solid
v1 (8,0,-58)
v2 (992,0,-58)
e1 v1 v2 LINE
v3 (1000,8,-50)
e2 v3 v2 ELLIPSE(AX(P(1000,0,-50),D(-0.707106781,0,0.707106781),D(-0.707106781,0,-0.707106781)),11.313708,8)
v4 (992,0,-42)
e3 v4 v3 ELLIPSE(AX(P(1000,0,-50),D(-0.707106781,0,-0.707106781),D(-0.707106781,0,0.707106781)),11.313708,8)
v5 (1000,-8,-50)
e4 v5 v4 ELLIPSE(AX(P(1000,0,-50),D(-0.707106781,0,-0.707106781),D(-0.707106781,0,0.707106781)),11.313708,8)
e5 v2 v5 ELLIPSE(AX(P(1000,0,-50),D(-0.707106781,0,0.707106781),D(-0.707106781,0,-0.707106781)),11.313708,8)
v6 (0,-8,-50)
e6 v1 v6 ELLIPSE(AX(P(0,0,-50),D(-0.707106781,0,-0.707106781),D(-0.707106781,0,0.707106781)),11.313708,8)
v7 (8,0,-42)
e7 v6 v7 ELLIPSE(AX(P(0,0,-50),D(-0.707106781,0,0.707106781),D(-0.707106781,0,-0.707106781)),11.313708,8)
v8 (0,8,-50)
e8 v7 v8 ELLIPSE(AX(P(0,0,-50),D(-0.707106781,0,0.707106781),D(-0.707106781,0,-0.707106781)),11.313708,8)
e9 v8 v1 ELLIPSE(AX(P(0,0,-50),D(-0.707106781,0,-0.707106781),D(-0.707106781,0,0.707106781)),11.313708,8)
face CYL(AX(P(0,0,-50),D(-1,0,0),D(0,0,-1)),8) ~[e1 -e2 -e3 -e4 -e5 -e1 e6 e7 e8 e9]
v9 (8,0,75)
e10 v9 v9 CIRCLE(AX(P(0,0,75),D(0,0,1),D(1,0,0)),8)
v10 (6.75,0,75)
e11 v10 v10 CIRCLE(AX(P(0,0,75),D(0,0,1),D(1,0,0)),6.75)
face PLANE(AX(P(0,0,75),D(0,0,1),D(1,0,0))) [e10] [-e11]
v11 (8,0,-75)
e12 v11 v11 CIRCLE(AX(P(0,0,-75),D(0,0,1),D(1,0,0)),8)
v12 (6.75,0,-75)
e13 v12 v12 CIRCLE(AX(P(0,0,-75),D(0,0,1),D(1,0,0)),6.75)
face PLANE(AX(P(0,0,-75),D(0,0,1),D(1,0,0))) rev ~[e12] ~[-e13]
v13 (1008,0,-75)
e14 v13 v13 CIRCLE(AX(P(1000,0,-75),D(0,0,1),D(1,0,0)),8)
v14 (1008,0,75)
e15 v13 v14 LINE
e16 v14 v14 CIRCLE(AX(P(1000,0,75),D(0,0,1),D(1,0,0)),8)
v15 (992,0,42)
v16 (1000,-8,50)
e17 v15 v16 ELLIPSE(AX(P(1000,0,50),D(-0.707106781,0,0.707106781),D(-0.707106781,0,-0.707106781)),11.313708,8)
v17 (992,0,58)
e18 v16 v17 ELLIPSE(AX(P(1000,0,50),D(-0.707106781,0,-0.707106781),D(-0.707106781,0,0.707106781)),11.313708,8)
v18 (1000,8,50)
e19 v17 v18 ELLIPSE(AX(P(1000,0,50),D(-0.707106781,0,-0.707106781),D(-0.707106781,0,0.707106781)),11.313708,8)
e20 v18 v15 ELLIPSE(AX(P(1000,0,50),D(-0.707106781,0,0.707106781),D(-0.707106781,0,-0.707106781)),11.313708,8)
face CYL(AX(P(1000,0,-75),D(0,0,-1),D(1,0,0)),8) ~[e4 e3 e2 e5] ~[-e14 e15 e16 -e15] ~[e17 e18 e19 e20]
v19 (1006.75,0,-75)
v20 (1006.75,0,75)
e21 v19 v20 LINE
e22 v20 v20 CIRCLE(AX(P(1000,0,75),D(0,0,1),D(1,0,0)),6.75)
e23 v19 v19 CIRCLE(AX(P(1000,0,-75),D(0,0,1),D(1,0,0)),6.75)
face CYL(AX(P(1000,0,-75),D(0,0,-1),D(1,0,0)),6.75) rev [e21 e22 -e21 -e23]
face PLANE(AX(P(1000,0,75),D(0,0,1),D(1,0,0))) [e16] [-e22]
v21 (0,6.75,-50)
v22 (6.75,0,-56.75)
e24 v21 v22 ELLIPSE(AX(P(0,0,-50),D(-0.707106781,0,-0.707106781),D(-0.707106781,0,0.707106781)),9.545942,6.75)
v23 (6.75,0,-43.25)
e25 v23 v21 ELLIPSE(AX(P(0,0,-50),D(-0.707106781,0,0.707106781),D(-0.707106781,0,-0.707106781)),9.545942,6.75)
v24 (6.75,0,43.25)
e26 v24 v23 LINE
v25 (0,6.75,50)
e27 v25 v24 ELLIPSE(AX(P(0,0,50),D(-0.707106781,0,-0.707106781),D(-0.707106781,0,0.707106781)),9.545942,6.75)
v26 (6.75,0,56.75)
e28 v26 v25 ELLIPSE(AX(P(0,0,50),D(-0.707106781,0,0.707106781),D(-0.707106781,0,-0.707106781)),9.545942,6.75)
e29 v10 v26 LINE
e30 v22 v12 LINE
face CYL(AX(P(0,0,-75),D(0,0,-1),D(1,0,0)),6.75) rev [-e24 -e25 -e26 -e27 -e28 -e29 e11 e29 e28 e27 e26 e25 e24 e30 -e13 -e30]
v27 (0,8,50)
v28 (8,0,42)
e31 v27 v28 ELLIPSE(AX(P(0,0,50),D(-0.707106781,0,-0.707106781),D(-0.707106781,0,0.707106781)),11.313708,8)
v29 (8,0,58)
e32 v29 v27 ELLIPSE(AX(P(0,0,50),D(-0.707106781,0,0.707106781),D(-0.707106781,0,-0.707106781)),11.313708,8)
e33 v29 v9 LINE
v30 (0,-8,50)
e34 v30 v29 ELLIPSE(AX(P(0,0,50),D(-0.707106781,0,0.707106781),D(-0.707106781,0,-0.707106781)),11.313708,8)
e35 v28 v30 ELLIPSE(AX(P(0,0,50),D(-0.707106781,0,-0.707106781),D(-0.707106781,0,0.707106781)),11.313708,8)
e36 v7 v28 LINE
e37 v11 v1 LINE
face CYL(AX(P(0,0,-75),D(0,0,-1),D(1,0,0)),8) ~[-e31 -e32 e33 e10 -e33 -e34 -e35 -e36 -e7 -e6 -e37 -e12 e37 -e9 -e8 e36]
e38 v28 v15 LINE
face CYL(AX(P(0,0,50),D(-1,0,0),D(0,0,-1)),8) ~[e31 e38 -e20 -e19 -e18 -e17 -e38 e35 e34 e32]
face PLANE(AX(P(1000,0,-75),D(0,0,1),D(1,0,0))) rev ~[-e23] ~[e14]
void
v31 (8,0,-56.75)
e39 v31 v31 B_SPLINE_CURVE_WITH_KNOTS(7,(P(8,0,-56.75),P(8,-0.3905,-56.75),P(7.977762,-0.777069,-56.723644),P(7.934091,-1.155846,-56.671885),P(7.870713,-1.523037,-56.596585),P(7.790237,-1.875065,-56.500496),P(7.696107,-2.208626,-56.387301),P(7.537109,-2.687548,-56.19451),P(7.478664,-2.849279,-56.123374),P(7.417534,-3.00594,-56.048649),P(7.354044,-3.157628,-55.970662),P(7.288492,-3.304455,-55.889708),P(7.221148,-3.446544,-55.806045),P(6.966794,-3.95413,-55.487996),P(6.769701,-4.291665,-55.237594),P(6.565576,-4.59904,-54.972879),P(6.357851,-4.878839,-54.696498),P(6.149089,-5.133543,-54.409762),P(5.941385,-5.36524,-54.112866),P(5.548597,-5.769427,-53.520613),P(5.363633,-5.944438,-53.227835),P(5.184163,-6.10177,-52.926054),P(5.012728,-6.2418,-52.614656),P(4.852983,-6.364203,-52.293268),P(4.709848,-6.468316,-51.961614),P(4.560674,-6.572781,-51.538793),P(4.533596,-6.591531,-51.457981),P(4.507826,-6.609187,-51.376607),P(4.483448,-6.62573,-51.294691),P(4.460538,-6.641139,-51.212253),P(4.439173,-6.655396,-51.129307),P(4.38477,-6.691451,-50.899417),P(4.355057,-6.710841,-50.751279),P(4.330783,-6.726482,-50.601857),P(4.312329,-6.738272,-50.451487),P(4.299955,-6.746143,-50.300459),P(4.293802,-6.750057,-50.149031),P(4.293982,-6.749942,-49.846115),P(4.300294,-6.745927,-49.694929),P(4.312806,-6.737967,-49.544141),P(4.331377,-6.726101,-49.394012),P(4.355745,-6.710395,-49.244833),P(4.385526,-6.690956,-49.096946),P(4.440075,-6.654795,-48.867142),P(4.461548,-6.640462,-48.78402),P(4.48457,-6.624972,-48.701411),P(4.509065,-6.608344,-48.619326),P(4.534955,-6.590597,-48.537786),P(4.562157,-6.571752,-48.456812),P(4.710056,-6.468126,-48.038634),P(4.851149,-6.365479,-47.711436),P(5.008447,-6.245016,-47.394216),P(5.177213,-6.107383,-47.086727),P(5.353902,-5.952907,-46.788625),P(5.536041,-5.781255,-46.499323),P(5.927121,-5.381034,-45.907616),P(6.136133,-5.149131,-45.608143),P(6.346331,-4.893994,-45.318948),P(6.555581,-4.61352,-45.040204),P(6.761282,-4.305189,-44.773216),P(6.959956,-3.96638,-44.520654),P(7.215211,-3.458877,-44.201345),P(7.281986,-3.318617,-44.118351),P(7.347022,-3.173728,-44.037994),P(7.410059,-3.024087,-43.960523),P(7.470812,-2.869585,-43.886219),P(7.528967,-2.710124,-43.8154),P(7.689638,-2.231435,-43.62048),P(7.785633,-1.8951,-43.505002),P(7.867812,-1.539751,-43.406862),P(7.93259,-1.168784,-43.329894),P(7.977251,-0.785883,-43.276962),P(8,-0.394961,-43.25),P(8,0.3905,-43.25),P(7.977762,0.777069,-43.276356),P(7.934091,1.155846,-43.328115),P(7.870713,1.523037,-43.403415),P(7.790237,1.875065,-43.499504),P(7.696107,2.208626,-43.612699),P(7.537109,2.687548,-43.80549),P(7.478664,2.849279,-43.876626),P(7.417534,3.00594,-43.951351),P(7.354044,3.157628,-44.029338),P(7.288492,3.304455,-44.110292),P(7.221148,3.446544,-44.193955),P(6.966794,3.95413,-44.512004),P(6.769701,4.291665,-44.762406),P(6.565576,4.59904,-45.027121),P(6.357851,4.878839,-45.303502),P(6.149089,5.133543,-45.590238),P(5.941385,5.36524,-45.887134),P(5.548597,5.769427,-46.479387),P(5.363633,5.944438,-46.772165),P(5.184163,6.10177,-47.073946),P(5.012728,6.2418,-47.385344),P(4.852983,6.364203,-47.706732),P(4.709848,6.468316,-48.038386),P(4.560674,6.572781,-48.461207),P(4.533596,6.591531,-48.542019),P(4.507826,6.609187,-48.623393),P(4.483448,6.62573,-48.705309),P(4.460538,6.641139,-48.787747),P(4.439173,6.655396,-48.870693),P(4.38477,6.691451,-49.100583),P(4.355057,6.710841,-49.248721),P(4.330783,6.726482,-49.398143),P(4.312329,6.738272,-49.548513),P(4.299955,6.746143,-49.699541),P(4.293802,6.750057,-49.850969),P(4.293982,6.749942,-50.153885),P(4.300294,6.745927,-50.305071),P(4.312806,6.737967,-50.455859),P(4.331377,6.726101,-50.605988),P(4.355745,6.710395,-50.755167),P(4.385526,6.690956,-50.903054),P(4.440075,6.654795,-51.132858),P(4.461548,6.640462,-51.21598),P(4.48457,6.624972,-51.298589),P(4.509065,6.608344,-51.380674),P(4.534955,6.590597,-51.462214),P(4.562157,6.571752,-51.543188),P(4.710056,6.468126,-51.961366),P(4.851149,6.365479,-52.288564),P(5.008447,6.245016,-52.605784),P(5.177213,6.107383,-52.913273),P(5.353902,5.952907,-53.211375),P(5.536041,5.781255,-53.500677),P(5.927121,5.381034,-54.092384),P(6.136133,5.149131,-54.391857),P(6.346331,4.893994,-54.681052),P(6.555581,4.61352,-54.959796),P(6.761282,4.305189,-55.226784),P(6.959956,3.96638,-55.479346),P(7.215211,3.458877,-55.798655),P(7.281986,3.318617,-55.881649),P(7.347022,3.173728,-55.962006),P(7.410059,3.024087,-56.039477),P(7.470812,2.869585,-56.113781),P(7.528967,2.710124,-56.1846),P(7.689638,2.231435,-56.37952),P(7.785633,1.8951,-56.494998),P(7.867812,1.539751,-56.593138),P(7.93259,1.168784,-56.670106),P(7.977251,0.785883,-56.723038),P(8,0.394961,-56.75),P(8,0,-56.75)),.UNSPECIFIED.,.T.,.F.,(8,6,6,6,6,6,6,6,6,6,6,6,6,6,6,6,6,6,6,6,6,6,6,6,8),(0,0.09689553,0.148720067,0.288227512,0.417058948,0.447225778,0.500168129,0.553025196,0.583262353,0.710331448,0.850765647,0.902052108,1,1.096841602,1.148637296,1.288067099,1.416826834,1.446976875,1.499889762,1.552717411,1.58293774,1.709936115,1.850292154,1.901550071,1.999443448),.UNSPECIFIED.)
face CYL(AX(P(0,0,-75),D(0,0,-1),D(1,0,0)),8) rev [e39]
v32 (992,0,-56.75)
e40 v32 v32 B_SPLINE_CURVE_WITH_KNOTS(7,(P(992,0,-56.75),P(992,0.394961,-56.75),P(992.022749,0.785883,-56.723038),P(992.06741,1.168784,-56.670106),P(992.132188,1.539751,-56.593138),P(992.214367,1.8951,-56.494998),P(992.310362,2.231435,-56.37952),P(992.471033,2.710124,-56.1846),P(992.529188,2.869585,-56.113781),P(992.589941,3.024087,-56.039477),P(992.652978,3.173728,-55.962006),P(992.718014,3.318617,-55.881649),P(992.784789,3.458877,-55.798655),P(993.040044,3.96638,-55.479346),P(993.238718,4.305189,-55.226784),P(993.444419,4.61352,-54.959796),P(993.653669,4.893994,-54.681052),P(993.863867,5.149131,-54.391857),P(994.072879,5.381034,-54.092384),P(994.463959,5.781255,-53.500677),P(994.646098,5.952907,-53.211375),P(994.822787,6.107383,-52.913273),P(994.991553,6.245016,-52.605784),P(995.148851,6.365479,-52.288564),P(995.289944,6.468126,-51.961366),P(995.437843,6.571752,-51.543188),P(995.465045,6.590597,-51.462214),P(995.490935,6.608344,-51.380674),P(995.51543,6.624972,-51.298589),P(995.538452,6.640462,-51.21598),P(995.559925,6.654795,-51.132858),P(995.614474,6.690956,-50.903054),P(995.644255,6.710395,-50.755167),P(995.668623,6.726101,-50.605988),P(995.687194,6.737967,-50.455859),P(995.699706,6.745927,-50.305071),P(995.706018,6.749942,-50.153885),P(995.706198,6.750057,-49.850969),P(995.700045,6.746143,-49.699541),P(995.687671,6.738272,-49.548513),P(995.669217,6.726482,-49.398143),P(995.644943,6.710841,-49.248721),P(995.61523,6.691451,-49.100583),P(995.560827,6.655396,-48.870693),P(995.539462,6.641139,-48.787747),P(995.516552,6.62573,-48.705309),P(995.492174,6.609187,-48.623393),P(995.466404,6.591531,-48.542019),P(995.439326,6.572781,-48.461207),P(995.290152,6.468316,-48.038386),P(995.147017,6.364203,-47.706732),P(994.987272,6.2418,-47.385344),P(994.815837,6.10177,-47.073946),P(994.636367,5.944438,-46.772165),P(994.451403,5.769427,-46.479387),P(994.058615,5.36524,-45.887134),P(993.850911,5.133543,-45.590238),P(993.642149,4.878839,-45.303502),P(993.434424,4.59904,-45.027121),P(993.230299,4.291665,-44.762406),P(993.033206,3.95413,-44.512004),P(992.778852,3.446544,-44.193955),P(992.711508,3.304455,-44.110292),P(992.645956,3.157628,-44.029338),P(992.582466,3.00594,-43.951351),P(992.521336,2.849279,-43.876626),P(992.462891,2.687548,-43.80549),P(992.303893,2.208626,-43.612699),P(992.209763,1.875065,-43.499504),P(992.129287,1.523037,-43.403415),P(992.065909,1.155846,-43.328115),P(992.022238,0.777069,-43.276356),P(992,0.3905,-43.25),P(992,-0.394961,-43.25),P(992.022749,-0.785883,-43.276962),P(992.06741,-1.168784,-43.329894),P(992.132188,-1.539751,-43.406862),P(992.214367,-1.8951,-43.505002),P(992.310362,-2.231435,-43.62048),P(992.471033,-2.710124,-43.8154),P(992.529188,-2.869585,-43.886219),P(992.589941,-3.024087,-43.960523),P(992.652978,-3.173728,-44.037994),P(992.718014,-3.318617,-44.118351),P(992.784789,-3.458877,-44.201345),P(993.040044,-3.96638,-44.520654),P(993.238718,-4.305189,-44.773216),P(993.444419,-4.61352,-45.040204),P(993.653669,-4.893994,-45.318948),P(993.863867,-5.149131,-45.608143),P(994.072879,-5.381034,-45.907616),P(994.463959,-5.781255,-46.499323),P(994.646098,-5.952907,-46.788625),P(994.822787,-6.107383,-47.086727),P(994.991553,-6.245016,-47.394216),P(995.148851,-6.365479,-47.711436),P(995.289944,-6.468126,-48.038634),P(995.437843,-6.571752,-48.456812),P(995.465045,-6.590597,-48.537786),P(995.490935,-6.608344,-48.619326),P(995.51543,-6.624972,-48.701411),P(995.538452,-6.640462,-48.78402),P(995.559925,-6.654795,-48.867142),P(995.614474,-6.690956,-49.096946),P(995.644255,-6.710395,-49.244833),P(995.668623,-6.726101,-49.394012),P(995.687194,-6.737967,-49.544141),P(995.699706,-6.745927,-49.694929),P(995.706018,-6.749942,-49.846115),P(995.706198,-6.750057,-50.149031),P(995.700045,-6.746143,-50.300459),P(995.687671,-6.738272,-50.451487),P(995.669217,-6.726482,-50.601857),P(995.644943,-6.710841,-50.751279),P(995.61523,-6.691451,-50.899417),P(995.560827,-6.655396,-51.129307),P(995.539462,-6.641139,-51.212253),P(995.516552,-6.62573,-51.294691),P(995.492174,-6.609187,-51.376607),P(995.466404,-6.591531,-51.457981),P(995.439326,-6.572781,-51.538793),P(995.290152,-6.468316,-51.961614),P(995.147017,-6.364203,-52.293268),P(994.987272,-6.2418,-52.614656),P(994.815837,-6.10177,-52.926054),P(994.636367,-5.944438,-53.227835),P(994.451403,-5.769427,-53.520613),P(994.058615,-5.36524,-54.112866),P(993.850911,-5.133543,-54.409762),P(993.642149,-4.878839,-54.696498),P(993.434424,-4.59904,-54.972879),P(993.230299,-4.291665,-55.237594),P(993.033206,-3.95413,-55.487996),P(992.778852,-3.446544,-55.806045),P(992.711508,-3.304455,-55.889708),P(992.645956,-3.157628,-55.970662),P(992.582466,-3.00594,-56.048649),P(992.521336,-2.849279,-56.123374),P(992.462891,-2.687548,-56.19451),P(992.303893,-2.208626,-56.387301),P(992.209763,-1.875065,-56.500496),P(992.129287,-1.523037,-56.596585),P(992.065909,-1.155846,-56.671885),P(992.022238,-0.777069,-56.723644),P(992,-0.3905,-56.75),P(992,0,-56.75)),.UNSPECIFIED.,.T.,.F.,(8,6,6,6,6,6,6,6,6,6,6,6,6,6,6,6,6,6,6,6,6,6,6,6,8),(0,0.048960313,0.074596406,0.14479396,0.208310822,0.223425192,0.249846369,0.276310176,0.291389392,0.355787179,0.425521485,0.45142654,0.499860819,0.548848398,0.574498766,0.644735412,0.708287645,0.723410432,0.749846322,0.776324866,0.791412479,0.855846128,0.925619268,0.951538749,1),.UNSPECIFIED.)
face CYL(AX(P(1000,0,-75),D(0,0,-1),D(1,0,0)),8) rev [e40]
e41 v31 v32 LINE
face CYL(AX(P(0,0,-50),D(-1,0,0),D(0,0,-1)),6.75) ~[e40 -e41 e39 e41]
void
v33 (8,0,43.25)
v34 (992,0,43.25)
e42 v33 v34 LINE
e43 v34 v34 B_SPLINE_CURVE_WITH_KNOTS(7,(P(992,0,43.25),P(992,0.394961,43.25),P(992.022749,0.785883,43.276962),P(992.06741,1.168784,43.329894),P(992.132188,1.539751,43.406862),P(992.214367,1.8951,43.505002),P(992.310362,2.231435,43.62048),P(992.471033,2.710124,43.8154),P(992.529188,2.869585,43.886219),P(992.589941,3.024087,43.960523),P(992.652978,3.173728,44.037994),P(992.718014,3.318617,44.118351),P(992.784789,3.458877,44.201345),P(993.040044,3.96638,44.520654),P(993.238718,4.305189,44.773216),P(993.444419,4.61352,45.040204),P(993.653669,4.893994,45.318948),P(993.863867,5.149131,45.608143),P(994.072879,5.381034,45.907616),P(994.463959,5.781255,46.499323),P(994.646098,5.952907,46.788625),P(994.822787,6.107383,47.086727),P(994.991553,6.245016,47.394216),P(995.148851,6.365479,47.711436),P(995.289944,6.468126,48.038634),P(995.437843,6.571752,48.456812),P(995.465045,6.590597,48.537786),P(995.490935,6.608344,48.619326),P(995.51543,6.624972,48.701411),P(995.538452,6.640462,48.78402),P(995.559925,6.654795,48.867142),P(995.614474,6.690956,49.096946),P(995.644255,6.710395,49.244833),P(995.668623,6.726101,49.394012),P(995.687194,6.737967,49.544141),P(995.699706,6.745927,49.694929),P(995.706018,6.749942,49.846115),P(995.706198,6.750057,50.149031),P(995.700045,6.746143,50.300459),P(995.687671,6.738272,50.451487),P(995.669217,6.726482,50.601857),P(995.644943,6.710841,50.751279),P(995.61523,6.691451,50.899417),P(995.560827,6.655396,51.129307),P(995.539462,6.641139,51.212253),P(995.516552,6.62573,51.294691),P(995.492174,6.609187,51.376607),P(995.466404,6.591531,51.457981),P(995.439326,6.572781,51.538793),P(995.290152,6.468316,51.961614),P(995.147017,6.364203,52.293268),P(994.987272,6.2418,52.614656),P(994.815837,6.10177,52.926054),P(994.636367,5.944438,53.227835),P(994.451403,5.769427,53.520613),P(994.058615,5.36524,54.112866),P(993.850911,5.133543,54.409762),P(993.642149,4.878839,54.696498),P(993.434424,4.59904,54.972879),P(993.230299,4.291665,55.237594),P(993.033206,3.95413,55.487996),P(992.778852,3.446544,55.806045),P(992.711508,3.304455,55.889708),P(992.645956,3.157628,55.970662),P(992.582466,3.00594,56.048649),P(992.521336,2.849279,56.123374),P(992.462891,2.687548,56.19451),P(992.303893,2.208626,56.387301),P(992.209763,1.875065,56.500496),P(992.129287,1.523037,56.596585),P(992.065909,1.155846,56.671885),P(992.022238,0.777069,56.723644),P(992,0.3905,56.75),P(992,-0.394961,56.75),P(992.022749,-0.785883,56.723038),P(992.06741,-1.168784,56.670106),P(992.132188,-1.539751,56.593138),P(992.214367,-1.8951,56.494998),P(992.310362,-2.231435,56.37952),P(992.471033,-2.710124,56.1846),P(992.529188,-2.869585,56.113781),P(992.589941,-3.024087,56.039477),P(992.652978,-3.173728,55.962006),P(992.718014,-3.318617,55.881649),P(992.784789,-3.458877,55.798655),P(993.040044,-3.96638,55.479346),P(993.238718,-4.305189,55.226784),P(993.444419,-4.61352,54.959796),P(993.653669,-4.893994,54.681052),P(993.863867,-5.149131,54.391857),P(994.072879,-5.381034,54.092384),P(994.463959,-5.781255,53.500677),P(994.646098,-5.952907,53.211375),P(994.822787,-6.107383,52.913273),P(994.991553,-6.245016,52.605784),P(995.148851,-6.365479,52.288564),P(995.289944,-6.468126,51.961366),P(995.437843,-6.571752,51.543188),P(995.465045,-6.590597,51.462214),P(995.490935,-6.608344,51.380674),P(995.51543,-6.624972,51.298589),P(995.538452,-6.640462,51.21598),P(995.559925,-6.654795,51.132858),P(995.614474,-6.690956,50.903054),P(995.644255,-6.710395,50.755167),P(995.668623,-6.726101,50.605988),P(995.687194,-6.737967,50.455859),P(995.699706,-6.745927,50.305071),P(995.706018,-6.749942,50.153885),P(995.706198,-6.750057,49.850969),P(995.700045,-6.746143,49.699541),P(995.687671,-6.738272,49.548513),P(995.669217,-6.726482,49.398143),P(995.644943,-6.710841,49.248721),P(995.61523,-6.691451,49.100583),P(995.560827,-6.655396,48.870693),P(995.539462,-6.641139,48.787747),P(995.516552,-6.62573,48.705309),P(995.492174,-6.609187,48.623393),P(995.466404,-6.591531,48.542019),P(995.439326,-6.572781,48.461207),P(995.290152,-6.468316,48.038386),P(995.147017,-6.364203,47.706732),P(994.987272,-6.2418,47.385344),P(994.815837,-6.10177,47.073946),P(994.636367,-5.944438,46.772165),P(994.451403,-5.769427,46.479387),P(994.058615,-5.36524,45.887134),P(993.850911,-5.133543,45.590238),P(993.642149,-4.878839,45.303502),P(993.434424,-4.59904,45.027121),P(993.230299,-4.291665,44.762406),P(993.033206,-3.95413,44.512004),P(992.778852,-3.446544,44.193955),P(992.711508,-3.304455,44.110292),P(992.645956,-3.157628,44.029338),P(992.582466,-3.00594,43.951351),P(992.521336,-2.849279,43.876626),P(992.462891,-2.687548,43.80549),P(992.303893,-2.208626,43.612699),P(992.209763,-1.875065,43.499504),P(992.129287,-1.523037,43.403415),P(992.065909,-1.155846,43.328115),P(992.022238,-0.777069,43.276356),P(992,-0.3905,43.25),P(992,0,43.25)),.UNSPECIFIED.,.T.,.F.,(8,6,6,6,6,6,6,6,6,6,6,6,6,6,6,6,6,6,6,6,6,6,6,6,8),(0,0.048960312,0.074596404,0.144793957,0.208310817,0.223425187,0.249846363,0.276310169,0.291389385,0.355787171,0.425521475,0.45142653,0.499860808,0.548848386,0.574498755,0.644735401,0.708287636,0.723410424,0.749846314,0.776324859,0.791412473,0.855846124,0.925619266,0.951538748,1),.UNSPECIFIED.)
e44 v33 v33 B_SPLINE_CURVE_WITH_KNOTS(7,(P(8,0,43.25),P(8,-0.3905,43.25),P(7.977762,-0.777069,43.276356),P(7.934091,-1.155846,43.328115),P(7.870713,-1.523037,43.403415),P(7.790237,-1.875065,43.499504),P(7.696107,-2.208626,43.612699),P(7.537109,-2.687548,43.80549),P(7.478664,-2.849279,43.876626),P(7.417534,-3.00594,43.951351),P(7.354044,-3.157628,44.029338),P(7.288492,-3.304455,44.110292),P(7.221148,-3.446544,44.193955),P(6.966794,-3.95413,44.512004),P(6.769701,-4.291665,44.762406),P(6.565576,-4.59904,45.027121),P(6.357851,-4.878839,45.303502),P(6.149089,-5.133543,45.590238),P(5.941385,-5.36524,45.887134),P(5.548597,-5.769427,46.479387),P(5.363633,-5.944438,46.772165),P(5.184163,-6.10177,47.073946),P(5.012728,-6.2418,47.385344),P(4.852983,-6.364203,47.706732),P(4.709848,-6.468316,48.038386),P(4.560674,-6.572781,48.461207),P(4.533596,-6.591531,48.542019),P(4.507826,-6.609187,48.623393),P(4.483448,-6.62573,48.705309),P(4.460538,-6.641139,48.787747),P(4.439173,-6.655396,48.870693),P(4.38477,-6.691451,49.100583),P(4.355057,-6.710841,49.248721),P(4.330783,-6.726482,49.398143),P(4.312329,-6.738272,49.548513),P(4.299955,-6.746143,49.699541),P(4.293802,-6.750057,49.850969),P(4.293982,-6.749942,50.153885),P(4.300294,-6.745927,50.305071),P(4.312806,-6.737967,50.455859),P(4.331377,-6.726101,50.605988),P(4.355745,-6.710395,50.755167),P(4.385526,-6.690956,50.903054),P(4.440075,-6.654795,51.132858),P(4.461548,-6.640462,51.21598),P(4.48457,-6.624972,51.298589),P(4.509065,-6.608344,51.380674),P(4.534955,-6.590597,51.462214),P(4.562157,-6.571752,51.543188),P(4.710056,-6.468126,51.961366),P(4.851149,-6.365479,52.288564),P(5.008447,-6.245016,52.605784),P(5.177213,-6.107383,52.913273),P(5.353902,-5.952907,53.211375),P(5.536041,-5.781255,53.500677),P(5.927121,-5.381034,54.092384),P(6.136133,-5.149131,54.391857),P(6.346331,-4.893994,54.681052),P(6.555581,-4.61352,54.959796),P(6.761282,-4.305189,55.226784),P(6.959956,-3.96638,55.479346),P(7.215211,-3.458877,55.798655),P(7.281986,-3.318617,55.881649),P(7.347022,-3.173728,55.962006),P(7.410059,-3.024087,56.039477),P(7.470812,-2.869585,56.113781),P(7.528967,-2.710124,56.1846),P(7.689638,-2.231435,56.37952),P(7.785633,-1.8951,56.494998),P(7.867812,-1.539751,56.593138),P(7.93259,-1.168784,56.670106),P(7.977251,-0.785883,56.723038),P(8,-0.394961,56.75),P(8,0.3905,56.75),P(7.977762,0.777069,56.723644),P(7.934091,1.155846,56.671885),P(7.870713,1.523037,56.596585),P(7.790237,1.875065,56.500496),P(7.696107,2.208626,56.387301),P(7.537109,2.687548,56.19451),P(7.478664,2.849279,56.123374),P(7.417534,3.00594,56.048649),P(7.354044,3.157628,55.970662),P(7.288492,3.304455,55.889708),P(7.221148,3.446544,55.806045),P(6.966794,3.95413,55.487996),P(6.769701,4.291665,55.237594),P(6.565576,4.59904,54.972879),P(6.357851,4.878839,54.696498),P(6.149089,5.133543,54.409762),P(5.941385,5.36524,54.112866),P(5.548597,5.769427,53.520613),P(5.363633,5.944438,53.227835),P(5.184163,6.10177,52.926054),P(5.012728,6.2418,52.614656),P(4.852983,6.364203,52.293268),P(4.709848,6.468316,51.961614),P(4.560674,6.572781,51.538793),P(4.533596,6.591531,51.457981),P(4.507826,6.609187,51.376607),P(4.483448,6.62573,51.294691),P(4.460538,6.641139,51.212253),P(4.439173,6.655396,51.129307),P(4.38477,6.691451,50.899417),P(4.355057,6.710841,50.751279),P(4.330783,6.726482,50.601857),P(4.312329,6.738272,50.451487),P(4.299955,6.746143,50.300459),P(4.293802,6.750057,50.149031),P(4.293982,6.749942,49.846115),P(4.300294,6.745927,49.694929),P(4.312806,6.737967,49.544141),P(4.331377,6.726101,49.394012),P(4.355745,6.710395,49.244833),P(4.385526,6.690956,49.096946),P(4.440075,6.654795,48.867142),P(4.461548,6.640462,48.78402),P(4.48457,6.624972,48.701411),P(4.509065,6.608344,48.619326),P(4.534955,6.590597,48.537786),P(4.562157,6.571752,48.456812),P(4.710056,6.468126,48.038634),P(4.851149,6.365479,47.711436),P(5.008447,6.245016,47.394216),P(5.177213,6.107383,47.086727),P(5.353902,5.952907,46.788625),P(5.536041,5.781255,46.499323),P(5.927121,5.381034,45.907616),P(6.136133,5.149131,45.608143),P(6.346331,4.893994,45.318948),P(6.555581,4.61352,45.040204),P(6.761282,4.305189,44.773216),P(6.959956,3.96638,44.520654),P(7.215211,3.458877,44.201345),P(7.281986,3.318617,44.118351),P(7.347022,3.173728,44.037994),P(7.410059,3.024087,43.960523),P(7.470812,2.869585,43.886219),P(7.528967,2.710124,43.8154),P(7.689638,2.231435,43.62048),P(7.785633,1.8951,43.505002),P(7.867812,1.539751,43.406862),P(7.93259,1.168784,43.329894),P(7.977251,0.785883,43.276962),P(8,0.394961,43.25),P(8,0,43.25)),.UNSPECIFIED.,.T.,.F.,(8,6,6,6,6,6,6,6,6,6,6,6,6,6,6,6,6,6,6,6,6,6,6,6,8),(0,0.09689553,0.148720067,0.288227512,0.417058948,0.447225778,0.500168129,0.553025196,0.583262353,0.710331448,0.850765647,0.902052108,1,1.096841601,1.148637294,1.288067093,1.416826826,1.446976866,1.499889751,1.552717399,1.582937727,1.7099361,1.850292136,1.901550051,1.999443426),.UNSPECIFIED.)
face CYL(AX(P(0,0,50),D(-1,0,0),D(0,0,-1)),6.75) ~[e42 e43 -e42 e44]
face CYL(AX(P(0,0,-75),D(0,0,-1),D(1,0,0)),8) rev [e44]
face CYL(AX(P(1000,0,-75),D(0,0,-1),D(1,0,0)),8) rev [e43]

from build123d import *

# Parameters (mm, degrees)
SKETCH1_R                = 8
SKETCH1_R_2              = 6.75
BOSS_EXTRUDE1_DEPTH      = 1000
BOSS_EXTRUDE1_2_DEPTH    = 1000
BOSS_EXTRUDE2_DEPTH      = 75
BOSS_EXTRUDE2_DEPTH_BACK = 75
SKETCH2_R                = 8
SKETCH2_R_2              = 6.75
CUT_EXTRUDE1_START       = -150
SKETCH3_R                = 6.75
CUT_EXTRUDE1_DEPTH       = 150
BOSS_EXTRUDE3_DEPTH      = 75
BOSS_EXTRUDE3_DEPTH_BACK = 75
SKETCH4_R                = 8
SKETCH4_R_2              = 6.75
SKETCH6_R                = 6.75
CUT_EXTRUDE2_DEPTH       = 150


with BuildPart() as part:
    # Sketch1 → Boss-Extrude1 (new body)
    with BuildSketch(Plane(origin=(0, 0, 0), x_dir=(0, 0, -1), z_dir=(1, 0, 0))):
        with Locations((-50, 0)):
            Circle(SKETCH1_R)
        with Locations((-50, 0)):
            Circle(SKETCH1_R_2, mode=Mode.SUBTRACT)
    extrude(amount=BOSS_EXTRUDE1_DEPTH)



with BuildPart() as body_2:
    # Sketch1 → Boss-Extrude1 2 (new body)
    with BuildSketch(Plane(origin=(0, 0, 0), x_dir=(0, 0, -1), z_dir=(1, 0, 0))):
        with Locations((50, 0)):
            Circle(SKETCH1_R)
        with Locations((50, 0)):
            Circle(SKETCH1_R_2, mode=Mode.SUBTRACT)
    extrude(amount=BOSS_EXTRUDE1_2_DEPTH)


with BuildPart() as part_1:
    add(part.part)

    add(body_2.part)  # Boss-Extrude2 merges body 2
    # Sketch2 → Boss-Extrude2 (add, two sides: drawn at the far end of the back side and taken through both)
    with BuildSketch(Plane.XY.offset(-BOSS_EXTRUDE2_DEPTH_BACK)):
        Circle(SKETCH2_R)
        Circle(SKETCH2_R_2, mode=Mode.SUBTRACT)
    extrude(amount=BOSS_EXTRUDE2_DEPTH + BOSS_EXTRUDE2_DEPTH_BACK)

    # Sketch3 → Cut-Extrude1 (cut)
    with BuildSketch(Plane.XY.offset(75).offset(CUT_EXTRUDE1_START)):
        Circle(SKETCH3_R)
    extrude(amount=CUT_EXTRUDE1_DEPTH, mode=Mode.SUBTRACT)

    # Sketch4 → Boss-Extrude3 (add, two sides: drawn at the far end of the back side and taken through both)
    with BuildSketch(Plane.XY.offset(-BOSS_EXTRUDE3_DEPTH_BACK)):
        with Locations((1000, 0)):
            Circle(SKETCH4_R)
        with Locations((1000, 0)):
            Circle(SKETCH4_R_2, mode=Mode.SUBTRACT)
    extrude(amount=BOSS_EXTRUDE3_DEPTH + BOSS_EXTRUDE3_DEPTH_BACK)

    # Sketch6 → Cut-Extrude2 (cut)
    with BuildSketch(Plane.XY.offset(75)):
        with Locations((1000, 0)):
            Circle(SKETCH6_R)
    extrude(amount=-CUT_EXTRUDE2_DEPTH, mode=Mode.SUBTRACT)


solid = part_1.part
